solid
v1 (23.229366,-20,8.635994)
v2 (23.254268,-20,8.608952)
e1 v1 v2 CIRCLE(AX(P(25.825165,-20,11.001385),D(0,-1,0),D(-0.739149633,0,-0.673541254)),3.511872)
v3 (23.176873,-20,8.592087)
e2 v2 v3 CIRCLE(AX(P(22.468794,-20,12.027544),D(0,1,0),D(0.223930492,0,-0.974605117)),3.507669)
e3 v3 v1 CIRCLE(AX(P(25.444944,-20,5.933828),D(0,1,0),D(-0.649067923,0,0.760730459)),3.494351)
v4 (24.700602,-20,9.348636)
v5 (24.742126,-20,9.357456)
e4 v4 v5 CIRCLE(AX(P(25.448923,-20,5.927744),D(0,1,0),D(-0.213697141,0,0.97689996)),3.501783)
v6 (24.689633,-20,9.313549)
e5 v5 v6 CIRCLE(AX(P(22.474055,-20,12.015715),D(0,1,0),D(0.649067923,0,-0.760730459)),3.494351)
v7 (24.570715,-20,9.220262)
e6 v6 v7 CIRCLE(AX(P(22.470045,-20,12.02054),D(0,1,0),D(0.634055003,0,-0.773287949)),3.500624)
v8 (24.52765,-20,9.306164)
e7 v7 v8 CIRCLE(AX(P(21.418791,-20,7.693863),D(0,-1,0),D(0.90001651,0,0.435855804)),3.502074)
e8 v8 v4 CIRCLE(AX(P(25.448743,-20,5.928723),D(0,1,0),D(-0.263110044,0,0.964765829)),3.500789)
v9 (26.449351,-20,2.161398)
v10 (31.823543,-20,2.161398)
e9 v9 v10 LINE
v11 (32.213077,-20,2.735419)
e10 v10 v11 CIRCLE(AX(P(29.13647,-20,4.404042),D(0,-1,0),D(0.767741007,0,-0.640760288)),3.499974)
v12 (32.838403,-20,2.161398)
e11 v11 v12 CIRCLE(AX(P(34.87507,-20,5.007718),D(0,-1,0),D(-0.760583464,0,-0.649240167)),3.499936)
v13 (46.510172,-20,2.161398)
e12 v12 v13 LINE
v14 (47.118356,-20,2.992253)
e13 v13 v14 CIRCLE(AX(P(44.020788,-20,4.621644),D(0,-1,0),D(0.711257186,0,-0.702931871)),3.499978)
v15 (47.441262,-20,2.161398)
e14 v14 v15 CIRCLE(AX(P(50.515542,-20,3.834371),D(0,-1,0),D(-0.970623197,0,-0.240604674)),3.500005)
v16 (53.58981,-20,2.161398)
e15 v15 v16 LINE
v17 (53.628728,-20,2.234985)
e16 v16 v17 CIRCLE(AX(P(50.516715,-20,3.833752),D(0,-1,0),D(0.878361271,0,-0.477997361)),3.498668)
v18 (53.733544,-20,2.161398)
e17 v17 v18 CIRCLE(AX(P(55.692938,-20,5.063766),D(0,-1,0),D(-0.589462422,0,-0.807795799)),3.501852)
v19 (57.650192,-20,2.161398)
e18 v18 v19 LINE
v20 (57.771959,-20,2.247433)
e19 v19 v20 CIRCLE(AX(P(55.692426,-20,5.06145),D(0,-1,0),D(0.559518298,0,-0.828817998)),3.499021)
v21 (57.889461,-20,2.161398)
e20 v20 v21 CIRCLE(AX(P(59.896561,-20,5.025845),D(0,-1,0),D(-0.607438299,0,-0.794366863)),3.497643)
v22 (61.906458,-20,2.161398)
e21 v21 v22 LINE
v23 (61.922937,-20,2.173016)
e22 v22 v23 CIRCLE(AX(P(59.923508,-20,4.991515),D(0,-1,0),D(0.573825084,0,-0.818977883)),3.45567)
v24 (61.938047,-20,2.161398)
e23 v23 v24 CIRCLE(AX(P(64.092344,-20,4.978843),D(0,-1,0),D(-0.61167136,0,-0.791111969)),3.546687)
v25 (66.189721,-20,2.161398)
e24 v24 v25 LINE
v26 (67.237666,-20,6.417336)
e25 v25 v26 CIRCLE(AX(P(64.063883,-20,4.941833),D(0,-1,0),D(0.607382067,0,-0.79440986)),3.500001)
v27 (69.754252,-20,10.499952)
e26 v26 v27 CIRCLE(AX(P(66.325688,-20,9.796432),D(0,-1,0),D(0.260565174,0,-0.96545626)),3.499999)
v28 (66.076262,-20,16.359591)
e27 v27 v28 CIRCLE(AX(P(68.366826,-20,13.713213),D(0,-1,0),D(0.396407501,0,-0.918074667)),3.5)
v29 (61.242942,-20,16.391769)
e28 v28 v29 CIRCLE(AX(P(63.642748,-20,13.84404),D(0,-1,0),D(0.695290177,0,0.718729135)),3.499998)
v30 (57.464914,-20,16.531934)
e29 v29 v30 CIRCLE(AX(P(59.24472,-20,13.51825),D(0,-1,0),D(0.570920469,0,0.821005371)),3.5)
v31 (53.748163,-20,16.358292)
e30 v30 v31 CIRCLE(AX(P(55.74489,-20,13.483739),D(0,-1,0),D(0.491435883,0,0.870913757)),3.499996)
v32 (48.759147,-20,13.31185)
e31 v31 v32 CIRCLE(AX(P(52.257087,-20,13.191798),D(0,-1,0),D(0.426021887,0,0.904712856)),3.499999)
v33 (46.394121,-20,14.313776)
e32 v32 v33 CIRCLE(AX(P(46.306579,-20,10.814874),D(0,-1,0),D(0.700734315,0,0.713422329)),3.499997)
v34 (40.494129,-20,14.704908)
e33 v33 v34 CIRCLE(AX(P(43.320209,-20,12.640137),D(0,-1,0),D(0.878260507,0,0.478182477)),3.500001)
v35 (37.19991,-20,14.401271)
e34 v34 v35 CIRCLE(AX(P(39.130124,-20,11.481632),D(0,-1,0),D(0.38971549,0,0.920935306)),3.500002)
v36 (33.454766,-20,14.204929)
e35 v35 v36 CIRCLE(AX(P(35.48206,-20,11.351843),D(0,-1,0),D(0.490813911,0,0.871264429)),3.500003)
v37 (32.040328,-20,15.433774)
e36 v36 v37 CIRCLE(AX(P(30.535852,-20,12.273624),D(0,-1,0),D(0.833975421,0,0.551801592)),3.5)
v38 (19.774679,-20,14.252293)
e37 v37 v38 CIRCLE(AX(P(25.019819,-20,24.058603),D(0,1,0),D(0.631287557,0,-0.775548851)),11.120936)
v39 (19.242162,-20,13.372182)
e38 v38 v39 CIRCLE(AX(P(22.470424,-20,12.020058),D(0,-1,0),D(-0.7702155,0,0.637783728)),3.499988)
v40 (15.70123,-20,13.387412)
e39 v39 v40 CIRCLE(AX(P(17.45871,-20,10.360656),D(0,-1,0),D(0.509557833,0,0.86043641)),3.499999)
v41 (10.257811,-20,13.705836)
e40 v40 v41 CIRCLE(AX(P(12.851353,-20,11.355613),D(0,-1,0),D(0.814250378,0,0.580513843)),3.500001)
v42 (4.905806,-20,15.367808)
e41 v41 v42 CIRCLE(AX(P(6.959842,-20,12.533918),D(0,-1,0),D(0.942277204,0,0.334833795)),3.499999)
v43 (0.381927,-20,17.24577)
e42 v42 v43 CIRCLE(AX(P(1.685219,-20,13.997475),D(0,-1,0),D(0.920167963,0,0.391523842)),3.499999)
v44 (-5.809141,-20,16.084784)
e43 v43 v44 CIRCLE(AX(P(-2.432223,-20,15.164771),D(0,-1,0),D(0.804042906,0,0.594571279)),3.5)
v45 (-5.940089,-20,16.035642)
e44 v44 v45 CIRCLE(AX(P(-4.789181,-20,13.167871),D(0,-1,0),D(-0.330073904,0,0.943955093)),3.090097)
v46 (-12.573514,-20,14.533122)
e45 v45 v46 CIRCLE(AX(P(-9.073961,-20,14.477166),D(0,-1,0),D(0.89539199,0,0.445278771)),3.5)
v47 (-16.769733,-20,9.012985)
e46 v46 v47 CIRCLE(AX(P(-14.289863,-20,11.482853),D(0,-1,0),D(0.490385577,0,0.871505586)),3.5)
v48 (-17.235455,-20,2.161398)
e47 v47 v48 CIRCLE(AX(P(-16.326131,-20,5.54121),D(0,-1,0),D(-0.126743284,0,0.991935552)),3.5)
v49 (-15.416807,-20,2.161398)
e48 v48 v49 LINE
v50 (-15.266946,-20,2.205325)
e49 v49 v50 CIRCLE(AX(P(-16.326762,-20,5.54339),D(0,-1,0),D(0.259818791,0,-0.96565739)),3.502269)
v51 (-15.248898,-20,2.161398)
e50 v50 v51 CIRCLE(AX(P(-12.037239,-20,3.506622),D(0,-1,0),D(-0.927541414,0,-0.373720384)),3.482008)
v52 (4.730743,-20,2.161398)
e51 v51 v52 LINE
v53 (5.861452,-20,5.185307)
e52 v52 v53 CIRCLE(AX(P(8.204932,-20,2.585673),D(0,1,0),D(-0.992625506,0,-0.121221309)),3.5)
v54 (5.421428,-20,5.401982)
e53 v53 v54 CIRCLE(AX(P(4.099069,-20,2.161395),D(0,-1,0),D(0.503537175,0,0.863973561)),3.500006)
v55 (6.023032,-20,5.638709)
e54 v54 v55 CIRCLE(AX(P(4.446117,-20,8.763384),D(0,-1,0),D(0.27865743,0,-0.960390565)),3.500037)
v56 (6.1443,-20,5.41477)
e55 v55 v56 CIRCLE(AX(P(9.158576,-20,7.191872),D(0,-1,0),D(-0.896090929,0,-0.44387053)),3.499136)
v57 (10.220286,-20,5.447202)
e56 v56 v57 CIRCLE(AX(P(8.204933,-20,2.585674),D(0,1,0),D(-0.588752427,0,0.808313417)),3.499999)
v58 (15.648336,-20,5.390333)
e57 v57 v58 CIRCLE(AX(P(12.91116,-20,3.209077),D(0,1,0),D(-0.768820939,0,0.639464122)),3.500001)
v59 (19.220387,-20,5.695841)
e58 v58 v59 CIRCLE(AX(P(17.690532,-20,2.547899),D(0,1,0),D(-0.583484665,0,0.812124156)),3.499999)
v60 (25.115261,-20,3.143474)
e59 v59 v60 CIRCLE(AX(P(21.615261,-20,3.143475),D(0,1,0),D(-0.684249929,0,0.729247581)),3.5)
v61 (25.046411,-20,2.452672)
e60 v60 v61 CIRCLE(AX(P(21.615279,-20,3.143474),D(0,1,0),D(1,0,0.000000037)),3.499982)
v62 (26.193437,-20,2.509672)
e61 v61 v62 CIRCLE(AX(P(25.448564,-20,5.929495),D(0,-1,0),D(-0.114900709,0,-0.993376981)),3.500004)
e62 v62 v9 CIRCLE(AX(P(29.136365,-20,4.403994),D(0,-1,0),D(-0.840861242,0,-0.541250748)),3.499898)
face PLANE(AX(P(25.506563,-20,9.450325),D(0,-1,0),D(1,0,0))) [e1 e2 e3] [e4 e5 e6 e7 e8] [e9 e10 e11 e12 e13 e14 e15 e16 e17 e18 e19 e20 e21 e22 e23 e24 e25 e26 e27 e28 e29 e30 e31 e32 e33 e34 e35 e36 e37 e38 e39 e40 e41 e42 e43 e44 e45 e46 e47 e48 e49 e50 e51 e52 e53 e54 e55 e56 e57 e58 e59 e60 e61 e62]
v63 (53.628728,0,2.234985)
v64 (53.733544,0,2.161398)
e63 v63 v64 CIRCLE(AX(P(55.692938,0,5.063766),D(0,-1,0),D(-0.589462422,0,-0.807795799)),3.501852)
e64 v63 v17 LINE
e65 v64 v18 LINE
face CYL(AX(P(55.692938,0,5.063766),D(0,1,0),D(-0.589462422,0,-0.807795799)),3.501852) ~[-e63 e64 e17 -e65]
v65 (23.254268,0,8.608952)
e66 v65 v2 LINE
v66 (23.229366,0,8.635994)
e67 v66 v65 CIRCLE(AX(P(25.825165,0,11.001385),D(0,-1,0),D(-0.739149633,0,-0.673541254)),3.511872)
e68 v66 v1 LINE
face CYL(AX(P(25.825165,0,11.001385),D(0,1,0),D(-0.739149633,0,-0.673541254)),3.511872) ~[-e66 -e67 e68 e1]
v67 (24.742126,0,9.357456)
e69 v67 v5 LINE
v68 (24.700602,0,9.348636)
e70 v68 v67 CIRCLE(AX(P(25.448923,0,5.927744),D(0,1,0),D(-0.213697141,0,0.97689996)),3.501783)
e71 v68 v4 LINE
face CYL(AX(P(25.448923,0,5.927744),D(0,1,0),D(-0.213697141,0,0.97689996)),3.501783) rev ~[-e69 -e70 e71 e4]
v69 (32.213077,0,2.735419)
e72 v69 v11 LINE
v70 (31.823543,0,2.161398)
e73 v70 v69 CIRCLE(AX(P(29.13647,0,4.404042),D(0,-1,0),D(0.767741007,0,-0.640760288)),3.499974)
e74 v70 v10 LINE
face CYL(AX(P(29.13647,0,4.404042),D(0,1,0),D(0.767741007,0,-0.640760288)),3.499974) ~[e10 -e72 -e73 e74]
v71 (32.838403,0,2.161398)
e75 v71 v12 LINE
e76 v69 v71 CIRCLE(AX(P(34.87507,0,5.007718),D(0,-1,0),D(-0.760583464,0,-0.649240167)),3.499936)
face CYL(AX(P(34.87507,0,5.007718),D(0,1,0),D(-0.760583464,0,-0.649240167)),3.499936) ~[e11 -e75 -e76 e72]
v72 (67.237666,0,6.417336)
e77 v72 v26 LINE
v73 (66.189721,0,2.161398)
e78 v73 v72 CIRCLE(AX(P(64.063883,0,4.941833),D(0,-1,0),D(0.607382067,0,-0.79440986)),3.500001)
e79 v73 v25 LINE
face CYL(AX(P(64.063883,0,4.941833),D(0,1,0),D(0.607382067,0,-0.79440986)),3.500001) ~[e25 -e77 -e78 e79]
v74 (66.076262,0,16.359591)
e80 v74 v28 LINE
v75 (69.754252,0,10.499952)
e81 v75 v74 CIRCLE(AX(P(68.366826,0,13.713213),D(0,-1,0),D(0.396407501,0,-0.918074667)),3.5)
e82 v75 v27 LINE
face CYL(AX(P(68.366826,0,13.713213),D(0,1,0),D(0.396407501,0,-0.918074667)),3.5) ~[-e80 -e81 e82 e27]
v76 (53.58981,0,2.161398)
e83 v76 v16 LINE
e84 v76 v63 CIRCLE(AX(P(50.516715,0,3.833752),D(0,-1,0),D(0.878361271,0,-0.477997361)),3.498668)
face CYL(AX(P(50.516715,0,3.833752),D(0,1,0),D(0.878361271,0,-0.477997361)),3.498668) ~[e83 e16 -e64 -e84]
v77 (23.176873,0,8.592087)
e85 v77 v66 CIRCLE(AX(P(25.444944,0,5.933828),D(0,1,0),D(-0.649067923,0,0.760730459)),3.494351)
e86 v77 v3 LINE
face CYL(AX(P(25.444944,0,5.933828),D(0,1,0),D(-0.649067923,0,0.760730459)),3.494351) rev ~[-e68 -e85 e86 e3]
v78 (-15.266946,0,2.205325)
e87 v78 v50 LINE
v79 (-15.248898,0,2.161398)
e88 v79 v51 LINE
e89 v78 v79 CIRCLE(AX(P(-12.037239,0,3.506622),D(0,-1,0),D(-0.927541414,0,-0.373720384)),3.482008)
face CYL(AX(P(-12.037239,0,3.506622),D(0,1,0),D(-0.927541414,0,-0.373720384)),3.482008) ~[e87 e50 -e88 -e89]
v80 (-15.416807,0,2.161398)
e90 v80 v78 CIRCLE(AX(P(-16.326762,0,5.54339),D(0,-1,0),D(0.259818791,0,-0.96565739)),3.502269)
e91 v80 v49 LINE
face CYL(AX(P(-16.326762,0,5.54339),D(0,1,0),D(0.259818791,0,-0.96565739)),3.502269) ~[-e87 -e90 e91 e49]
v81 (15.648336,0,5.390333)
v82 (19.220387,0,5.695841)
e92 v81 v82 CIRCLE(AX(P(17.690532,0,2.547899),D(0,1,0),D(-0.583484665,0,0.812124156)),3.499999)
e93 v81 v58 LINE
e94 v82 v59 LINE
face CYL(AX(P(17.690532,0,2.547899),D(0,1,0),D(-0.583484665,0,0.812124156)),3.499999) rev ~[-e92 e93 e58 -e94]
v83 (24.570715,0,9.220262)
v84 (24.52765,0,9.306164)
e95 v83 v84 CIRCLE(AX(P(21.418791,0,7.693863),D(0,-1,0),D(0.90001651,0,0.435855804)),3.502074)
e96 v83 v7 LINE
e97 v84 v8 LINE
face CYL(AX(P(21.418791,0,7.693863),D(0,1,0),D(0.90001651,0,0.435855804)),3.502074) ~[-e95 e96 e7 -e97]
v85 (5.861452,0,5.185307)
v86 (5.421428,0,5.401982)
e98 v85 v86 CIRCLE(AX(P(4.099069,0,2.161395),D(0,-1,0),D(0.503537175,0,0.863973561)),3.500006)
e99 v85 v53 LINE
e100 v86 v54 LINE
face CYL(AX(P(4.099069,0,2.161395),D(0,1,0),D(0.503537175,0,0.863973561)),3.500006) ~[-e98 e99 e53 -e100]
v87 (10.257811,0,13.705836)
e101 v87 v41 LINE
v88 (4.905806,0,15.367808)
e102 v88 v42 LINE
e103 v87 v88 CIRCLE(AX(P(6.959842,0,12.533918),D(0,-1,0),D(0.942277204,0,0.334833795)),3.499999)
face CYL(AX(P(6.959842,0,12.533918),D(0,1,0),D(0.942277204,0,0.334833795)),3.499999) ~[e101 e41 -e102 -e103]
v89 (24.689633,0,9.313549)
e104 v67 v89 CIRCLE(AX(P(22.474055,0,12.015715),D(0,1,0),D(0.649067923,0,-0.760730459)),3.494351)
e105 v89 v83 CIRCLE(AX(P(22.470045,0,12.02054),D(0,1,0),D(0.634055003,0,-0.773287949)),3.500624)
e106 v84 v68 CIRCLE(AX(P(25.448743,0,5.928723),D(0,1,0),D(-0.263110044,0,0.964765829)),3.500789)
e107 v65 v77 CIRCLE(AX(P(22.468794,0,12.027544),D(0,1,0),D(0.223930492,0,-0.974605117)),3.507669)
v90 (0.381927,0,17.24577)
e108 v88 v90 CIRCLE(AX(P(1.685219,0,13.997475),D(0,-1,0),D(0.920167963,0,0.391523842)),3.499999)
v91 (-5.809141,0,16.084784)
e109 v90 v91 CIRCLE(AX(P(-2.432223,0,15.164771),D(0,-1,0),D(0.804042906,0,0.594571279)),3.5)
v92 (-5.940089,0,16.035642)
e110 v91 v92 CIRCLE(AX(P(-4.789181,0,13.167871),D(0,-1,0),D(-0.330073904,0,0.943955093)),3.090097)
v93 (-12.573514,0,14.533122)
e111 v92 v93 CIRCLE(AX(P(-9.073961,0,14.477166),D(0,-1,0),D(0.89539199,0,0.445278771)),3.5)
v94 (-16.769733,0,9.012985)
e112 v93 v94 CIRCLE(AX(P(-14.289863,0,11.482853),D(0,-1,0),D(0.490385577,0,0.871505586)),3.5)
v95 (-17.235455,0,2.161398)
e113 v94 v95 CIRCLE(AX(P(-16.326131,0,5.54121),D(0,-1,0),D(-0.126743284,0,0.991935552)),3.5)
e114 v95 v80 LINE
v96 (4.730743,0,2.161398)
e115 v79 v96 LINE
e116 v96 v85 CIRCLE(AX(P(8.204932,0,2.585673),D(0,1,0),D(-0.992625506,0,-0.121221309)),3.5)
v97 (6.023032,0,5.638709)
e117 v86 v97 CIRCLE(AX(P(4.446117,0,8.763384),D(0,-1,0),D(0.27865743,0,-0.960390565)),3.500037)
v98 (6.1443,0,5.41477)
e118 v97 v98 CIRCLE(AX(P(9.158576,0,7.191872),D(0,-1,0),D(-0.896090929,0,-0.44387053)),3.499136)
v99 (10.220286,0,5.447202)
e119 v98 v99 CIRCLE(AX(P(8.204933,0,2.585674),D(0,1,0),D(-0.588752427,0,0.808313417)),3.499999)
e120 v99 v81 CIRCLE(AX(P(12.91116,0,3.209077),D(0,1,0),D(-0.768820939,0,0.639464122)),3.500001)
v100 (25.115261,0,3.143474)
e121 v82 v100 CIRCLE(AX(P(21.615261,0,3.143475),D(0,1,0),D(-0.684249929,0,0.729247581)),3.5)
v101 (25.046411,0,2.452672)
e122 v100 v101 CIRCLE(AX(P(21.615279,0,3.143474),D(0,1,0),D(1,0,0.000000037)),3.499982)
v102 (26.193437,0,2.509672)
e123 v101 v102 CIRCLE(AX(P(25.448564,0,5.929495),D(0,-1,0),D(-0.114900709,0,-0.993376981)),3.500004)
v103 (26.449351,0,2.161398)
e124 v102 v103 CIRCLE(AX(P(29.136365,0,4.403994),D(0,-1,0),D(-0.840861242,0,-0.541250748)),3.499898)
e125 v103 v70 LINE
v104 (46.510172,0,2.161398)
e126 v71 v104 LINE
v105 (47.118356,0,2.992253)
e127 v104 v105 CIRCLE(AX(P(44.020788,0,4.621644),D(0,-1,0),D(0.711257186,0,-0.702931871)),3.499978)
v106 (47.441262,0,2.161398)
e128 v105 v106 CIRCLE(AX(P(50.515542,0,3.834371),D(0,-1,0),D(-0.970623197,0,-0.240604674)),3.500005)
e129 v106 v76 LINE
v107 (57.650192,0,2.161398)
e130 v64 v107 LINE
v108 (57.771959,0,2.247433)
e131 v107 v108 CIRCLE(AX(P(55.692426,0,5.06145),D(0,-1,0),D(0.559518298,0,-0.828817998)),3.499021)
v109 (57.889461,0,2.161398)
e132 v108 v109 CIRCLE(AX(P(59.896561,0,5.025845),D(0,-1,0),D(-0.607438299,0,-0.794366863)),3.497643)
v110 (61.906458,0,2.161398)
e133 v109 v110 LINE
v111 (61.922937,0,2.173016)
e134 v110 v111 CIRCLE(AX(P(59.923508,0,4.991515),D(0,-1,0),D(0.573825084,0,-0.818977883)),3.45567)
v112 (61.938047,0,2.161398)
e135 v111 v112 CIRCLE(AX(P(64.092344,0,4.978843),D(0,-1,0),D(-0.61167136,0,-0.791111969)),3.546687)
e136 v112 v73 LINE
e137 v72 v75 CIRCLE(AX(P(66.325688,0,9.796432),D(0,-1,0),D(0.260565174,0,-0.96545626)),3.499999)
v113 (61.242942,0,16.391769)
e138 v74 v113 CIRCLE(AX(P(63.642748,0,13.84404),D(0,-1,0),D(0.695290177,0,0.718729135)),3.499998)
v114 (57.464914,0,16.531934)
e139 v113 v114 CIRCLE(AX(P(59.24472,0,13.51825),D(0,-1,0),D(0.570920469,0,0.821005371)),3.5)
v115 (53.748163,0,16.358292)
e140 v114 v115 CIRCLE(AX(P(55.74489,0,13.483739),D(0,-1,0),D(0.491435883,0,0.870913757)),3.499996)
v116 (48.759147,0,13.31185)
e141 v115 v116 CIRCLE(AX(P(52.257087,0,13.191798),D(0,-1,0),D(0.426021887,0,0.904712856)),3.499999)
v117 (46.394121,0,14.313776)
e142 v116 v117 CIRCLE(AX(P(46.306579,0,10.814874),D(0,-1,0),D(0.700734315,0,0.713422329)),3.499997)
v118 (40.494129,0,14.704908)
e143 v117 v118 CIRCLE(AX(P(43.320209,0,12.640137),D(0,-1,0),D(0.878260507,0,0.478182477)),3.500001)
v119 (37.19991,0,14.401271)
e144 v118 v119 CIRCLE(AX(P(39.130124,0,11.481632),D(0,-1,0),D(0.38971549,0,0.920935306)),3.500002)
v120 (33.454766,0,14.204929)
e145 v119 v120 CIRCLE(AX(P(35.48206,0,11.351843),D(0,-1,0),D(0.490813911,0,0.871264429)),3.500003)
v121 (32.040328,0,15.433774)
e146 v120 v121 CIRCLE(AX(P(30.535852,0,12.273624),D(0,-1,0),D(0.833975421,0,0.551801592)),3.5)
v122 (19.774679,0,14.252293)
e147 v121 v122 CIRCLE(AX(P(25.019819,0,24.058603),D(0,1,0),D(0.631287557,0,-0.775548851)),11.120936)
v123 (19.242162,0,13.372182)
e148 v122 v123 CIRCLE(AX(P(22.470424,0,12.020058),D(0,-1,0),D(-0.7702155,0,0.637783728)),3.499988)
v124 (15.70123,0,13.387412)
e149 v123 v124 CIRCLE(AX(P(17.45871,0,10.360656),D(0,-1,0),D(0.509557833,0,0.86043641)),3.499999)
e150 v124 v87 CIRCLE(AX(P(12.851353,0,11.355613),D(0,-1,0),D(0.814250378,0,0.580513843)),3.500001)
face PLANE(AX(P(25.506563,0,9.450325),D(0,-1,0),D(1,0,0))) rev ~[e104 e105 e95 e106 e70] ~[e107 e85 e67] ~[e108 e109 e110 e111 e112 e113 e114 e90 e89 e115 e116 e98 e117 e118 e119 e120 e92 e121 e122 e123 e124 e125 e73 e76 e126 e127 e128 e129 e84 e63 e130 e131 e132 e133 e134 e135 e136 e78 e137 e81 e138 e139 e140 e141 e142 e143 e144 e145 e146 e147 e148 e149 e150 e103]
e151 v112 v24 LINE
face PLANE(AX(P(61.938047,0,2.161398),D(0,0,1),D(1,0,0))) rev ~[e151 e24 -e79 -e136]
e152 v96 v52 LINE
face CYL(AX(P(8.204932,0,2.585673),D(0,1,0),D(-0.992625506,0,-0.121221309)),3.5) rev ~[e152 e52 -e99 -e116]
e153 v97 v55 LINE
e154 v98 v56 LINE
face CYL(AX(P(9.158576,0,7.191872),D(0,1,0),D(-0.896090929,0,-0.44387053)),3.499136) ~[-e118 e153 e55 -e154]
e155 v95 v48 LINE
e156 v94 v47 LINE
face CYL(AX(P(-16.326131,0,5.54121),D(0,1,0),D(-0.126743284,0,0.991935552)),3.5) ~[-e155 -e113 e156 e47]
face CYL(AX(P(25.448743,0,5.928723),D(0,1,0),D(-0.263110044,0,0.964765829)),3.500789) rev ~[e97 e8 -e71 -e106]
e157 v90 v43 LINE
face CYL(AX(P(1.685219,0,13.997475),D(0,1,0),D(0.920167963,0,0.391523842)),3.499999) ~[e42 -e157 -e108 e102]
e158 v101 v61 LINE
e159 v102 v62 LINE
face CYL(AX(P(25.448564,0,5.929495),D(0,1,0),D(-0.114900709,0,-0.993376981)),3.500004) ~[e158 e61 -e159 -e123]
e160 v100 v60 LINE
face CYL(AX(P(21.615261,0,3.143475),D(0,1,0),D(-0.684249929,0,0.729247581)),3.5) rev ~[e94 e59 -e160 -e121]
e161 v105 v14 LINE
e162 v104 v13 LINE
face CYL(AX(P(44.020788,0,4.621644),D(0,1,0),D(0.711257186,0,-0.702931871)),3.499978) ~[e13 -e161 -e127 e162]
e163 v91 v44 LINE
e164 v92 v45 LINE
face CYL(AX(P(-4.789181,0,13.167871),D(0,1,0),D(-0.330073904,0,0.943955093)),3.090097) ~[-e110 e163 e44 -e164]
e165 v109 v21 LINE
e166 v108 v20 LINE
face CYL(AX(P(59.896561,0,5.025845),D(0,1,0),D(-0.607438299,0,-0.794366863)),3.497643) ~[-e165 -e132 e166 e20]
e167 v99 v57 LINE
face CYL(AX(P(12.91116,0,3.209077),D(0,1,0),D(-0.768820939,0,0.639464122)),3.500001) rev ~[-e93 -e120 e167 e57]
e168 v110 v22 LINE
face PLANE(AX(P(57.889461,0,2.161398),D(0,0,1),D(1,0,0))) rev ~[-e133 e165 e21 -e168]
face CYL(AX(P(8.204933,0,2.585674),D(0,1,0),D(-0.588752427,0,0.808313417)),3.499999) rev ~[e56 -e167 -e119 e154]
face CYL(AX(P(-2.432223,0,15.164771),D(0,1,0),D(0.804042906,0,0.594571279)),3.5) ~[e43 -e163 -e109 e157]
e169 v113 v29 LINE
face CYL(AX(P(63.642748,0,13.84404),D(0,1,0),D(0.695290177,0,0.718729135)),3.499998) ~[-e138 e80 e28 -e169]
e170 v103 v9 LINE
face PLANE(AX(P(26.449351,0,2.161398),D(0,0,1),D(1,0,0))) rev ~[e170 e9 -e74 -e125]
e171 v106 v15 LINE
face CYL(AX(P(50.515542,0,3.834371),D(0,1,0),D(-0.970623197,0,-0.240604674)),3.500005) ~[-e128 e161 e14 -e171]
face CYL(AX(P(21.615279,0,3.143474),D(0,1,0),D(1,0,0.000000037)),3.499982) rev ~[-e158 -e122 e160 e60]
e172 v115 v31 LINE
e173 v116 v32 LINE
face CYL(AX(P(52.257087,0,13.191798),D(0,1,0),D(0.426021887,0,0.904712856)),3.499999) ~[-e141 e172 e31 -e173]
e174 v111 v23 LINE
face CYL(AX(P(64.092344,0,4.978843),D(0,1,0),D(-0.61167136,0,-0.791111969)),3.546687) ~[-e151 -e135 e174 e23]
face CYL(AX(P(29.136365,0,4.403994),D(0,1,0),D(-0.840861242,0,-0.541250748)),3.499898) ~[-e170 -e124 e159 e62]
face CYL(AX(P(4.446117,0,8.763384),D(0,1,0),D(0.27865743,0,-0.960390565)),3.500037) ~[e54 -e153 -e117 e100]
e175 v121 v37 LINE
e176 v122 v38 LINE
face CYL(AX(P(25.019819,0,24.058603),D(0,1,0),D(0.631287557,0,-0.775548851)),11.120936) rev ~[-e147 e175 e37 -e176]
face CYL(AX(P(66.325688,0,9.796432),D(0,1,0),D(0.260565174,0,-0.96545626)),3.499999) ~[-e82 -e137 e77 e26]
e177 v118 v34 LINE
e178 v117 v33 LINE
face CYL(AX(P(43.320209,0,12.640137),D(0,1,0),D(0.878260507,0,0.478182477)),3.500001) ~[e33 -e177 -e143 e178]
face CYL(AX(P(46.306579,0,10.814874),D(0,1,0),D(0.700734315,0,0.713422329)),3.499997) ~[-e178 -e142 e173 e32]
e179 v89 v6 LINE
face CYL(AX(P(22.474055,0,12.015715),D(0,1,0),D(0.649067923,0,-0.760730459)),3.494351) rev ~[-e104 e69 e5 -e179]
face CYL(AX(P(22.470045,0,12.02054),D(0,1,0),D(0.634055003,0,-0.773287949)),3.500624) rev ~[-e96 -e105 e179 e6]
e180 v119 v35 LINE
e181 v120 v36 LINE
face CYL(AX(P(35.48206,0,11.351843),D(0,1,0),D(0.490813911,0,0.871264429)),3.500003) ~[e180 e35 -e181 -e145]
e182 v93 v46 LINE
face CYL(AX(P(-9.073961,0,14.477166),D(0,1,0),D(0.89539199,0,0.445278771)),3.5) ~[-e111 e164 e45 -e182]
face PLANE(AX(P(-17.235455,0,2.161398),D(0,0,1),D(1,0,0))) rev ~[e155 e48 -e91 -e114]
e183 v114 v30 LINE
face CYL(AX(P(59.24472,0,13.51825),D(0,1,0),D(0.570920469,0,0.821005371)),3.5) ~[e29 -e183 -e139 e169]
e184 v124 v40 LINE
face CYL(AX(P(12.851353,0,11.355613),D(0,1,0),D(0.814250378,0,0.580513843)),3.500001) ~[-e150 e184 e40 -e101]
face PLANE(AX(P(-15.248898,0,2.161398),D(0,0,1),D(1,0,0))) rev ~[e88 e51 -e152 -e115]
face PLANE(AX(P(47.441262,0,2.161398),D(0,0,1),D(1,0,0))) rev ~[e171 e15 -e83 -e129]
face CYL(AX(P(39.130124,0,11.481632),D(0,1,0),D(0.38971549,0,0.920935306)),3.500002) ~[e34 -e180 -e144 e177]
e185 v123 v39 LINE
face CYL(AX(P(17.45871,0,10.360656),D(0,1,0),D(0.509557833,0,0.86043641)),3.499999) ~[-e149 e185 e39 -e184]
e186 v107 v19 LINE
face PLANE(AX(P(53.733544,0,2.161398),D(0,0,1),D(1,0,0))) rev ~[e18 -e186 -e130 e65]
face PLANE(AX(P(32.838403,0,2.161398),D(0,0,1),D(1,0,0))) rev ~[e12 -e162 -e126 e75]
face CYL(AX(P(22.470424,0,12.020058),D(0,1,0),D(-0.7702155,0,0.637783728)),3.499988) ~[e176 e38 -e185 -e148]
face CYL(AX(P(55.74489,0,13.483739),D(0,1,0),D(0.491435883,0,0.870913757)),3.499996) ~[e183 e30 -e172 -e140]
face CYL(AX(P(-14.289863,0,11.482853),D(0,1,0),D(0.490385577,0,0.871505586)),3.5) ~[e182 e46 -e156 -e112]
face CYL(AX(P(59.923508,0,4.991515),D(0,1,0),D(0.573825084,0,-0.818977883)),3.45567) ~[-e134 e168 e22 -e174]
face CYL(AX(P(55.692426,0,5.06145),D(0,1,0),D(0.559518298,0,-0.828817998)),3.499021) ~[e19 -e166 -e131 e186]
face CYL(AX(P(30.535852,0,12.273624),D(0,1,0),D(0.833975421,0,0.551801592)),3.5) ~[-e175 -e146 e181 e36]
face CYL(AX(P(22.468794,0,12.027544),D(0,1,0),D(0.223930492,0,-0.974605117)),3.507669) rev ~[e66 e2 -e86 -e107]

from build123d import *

# Parameters (mm, degrees)
F1_DEPTH = 20


with BuildPart() as f1:
    # F0 (on Front) → F1 (new body)
    with BuildSketch(Plane.XZ):
        with BuildLine():
            ThreePointArc((-5.940089, 16.035642), (-9.847151, 17.890695), (-12.573514, 14.533122))
            ThreePointArc((-12.573514, 14.533122), (-17.076209, 13.600936), (-16.769733, 9.012985))
            ThreePointArc((-16.769733, 9.012985), (-19.818074, 5.778568), (-17.235455, 2.161398))
            Line((-17.235455, 2.161398), (-15.416807, 2.161398))
            ThreePointArc((-15.416807, 2.161398), (-15.341632, 2.182526), (-15.266946, 2.205325))
            ThreePointArc((-15.266946, 2.205325), (-15.257997, 2.183331), (-15.248898, 2.161398))
            Line((-15.248898, 2.161398), (0.599075, 2.161398))
            Line((0.599075, 2.161398), (1.466817, 2.161398))
            Line((1.466817, 2.161398), (2.837026, 2.161398))
            Line((2.837026, 2.161398), (4.730743, 2.161398))
            ThreePointArc((4.730743, 2.161398), (4.926621, 3.811509), (5.861452, 5.185307))
            ThreePointArc((5.861452, 5.185307), (5.64524, 5.301362), (5.421428, 5.401982))
            ThreePointArc((5.421428, 5.401982), (5.727707, 5.506425), (6.023032, 5.638709))
            ThreePointArc((6.023032, 5.638709), (6.081628, 5.525636), (6.1443, 5.41477))
            ThreePointArc((6.1443, 5.41477), (8.177085, 6.085562), (10.220286, 5.447202))
            ThreePointArc((10.220286, 5.447202), (12.947827, 6.708886), (15.648336, 5.390333))
            ThreePointArc((15.648336, 5.390333), (17.392275, 6.035167), (19.220387, 5.695841))
            ThreePointArc((19.220387, 5.695841), (23.005934, 6.355332), (25.115261, 3.143474))
            ThreePointArc((25.115261, 3.143474), (25.098006, 2.796362), (25.046411, 2.452672))
            ThreePointArc((25.046411, 2.452672), (25.622278, 2.433805), (26.193437, 2.509672))
            ThreePointArc((26.193437, 2.509672), (26.316013, 2.331581), (26.449351, 2.161398))
            Line((26.449351, 2.161398), (31.823543, 2.161398))
            ThreePointArc((31.823543, 2.161398), (32.032567, 2.438734), (32.213077, 2.735419))
            ThreePointArc((32.213077, 2.735419), (32.508273, 2.429381), (32.838403, 2.161398))
            Line((32.838403, 2.161398), (36.281702, 2.161398))
            Line((36.281702, 2.161398), (36.911824, 2.161398))
            Line((36.911824, 2.161398), (46.510172, 2.161398))
            ThreePointArc((46.510172, 2.161398), (46.844985, 2.554338), (47.118356, 2.992253))
            ThreePointArc((47.118356, 2.992253), (47.25325, 2.566504), (47.441262, 2.161398))
            Line((47.441262, 2.161398), (53.58981, 2.161398))
            ThreePointArc((53.58981, 2.161398), (53.609488, 2.198076), (53.628728, 2.234985))
            ThreePointArc((53.628728, 2.234985), (53.6808, 2.197712), (53.733544, 2.161398))
            Line((53.733544, 2.161398), (57.650192, 2.161398))
            ThreePointArc((57.650192, 2.161398), (57.711534, 2.203767), (57.771959, 2.247433))
            ThreePointArc((57.771959, 2.247433), (57.830262, 2.203804), (57.889461, 2.161398))
            Line((57.889461, 2.161398), (61.906458, 2.161398))
            ThreePointArc((61.906458, 2.161398), (61.914706, 2.167195), (61.922937, 2.173016))
            ThreePointArc((61.922937, 2.173016), (61.930484, 2.167197), (61.938047, 2.161398))
            Line((61.938047, 2.161398), (66.189721, 2.161398))
            ThreePointArc((66.189721, 2.161398), (67.462375, 4.105018), (67.237666, 6.417336))
            ThreePointArc((67.237666, 6.417336), (69.30512, 7.959865), (69.754252, 10.499952))
            ThreePointArc((69.754252, 10.499952), (71.331241, 15.573923), (66.076262, 16.359591))
            ThreePointArc((66.076262, 16.359591), (63.666049, 17.343961), (61.242942, 16.391769))
            ThreePointArc((61.242942, 16.391769), (59.374481, 17.015844), (57.464914, 16.531934))
            ThreePointArc((57.464914, 16.531934), (55.581553, 16.979922), (53.748163, 16.358292))
            ThreePointArc((53.748163, 16.358292), (50.433059, 16.178923), (48.759147, 13.31185))
            ThreePointArc((48.759147, 13.31185), (47.671864, 14.037602), (46.394121, 14.313776))
            ThreePointArc((46.394121, 14.313776), (43.551728, 16.132472), (40.494129, 14.704908))
            ThreePointArc((40.494129, 14.704908), (38.808881, 14.966861), (37.19991, 14.401271))
            ThreePointArc((37.19991, 14.401271), (35.298822, 14.847046), (33.454766, 14.204929))
            ThreePointArc((33.454766, 14.204929), (32.831306, 14.915761), (32.040328, 15.433774))
            ThreePointArc((32.040328, 15.433774), (26.086101, 12.988903), (19.774679, 14.252293))
            ThreePointArc((19.774679, 14.252293), (19.47591, 13.831908), (19.242162, 13.372182))
            ThreePointArc((19.242162, 13.372182), (17.473764, 13.860622), (15.70123, 13.387412))
            ThreePointArc((15.70123, 13.387412), (13.055743, 14.849641), (10.257811, 13.705836))
            ThreePointArc((10.257811, 13.705836), (7.997811, 15.876464), (4.905806, 15.367808))
            ThreePointArc((4.905806, 15.367808), (3.027117, 17.230013), (0.381927, 17.24577))
            ThreePointArc((0.381927, 17.24577), (-3.077319, 18.604807), (-5.809141, 16.084784))
            ThreePointArc((-5.809141, 16.084784), (-5.874893, 16.060954), (-5.940089, 16.035642))
        make_face()
        with BuildLine():
            ThreePointArc((23.254268, 8.608952), (23.215618, 8.600301), (23.176873, 8.592087))
            ThreePointArc((23.176873, 8.592087), (23.203012, 8.614169), (23.229366, 8.635994))
            ThreePointArc((23.229366, 8.635994), (23.241782, 8.62244), (23.254268, 8.608952))
        make_face(mode=Mode.SUBTRACT)
        with BuildLine():
            ThreePointArc((24.700602, 9.348636), (24.721351, 9.353109), (24.742126, 9.357456))
            ThreePointArc((24.742126, 9.357456), (24.715987, 9.335374), (24.689633, 9.313549))
            ThreePointArc((24.689633, 9.313549), (24.630678, 9.266264), (24.570715, 9.220262))
            ThreePointArc((24.570715, 9.220262), (24.549477, 9.263361), (24.52765, 9.306164))
            ThreePointArc((24.52765, 9.306164), (24.613856, 9.3285), (24.700602, 9.348636))
        make_face(mode=Mode.SUBTRACT)
    extrude(amount=F1_DEPTH)


solid = f1.part
